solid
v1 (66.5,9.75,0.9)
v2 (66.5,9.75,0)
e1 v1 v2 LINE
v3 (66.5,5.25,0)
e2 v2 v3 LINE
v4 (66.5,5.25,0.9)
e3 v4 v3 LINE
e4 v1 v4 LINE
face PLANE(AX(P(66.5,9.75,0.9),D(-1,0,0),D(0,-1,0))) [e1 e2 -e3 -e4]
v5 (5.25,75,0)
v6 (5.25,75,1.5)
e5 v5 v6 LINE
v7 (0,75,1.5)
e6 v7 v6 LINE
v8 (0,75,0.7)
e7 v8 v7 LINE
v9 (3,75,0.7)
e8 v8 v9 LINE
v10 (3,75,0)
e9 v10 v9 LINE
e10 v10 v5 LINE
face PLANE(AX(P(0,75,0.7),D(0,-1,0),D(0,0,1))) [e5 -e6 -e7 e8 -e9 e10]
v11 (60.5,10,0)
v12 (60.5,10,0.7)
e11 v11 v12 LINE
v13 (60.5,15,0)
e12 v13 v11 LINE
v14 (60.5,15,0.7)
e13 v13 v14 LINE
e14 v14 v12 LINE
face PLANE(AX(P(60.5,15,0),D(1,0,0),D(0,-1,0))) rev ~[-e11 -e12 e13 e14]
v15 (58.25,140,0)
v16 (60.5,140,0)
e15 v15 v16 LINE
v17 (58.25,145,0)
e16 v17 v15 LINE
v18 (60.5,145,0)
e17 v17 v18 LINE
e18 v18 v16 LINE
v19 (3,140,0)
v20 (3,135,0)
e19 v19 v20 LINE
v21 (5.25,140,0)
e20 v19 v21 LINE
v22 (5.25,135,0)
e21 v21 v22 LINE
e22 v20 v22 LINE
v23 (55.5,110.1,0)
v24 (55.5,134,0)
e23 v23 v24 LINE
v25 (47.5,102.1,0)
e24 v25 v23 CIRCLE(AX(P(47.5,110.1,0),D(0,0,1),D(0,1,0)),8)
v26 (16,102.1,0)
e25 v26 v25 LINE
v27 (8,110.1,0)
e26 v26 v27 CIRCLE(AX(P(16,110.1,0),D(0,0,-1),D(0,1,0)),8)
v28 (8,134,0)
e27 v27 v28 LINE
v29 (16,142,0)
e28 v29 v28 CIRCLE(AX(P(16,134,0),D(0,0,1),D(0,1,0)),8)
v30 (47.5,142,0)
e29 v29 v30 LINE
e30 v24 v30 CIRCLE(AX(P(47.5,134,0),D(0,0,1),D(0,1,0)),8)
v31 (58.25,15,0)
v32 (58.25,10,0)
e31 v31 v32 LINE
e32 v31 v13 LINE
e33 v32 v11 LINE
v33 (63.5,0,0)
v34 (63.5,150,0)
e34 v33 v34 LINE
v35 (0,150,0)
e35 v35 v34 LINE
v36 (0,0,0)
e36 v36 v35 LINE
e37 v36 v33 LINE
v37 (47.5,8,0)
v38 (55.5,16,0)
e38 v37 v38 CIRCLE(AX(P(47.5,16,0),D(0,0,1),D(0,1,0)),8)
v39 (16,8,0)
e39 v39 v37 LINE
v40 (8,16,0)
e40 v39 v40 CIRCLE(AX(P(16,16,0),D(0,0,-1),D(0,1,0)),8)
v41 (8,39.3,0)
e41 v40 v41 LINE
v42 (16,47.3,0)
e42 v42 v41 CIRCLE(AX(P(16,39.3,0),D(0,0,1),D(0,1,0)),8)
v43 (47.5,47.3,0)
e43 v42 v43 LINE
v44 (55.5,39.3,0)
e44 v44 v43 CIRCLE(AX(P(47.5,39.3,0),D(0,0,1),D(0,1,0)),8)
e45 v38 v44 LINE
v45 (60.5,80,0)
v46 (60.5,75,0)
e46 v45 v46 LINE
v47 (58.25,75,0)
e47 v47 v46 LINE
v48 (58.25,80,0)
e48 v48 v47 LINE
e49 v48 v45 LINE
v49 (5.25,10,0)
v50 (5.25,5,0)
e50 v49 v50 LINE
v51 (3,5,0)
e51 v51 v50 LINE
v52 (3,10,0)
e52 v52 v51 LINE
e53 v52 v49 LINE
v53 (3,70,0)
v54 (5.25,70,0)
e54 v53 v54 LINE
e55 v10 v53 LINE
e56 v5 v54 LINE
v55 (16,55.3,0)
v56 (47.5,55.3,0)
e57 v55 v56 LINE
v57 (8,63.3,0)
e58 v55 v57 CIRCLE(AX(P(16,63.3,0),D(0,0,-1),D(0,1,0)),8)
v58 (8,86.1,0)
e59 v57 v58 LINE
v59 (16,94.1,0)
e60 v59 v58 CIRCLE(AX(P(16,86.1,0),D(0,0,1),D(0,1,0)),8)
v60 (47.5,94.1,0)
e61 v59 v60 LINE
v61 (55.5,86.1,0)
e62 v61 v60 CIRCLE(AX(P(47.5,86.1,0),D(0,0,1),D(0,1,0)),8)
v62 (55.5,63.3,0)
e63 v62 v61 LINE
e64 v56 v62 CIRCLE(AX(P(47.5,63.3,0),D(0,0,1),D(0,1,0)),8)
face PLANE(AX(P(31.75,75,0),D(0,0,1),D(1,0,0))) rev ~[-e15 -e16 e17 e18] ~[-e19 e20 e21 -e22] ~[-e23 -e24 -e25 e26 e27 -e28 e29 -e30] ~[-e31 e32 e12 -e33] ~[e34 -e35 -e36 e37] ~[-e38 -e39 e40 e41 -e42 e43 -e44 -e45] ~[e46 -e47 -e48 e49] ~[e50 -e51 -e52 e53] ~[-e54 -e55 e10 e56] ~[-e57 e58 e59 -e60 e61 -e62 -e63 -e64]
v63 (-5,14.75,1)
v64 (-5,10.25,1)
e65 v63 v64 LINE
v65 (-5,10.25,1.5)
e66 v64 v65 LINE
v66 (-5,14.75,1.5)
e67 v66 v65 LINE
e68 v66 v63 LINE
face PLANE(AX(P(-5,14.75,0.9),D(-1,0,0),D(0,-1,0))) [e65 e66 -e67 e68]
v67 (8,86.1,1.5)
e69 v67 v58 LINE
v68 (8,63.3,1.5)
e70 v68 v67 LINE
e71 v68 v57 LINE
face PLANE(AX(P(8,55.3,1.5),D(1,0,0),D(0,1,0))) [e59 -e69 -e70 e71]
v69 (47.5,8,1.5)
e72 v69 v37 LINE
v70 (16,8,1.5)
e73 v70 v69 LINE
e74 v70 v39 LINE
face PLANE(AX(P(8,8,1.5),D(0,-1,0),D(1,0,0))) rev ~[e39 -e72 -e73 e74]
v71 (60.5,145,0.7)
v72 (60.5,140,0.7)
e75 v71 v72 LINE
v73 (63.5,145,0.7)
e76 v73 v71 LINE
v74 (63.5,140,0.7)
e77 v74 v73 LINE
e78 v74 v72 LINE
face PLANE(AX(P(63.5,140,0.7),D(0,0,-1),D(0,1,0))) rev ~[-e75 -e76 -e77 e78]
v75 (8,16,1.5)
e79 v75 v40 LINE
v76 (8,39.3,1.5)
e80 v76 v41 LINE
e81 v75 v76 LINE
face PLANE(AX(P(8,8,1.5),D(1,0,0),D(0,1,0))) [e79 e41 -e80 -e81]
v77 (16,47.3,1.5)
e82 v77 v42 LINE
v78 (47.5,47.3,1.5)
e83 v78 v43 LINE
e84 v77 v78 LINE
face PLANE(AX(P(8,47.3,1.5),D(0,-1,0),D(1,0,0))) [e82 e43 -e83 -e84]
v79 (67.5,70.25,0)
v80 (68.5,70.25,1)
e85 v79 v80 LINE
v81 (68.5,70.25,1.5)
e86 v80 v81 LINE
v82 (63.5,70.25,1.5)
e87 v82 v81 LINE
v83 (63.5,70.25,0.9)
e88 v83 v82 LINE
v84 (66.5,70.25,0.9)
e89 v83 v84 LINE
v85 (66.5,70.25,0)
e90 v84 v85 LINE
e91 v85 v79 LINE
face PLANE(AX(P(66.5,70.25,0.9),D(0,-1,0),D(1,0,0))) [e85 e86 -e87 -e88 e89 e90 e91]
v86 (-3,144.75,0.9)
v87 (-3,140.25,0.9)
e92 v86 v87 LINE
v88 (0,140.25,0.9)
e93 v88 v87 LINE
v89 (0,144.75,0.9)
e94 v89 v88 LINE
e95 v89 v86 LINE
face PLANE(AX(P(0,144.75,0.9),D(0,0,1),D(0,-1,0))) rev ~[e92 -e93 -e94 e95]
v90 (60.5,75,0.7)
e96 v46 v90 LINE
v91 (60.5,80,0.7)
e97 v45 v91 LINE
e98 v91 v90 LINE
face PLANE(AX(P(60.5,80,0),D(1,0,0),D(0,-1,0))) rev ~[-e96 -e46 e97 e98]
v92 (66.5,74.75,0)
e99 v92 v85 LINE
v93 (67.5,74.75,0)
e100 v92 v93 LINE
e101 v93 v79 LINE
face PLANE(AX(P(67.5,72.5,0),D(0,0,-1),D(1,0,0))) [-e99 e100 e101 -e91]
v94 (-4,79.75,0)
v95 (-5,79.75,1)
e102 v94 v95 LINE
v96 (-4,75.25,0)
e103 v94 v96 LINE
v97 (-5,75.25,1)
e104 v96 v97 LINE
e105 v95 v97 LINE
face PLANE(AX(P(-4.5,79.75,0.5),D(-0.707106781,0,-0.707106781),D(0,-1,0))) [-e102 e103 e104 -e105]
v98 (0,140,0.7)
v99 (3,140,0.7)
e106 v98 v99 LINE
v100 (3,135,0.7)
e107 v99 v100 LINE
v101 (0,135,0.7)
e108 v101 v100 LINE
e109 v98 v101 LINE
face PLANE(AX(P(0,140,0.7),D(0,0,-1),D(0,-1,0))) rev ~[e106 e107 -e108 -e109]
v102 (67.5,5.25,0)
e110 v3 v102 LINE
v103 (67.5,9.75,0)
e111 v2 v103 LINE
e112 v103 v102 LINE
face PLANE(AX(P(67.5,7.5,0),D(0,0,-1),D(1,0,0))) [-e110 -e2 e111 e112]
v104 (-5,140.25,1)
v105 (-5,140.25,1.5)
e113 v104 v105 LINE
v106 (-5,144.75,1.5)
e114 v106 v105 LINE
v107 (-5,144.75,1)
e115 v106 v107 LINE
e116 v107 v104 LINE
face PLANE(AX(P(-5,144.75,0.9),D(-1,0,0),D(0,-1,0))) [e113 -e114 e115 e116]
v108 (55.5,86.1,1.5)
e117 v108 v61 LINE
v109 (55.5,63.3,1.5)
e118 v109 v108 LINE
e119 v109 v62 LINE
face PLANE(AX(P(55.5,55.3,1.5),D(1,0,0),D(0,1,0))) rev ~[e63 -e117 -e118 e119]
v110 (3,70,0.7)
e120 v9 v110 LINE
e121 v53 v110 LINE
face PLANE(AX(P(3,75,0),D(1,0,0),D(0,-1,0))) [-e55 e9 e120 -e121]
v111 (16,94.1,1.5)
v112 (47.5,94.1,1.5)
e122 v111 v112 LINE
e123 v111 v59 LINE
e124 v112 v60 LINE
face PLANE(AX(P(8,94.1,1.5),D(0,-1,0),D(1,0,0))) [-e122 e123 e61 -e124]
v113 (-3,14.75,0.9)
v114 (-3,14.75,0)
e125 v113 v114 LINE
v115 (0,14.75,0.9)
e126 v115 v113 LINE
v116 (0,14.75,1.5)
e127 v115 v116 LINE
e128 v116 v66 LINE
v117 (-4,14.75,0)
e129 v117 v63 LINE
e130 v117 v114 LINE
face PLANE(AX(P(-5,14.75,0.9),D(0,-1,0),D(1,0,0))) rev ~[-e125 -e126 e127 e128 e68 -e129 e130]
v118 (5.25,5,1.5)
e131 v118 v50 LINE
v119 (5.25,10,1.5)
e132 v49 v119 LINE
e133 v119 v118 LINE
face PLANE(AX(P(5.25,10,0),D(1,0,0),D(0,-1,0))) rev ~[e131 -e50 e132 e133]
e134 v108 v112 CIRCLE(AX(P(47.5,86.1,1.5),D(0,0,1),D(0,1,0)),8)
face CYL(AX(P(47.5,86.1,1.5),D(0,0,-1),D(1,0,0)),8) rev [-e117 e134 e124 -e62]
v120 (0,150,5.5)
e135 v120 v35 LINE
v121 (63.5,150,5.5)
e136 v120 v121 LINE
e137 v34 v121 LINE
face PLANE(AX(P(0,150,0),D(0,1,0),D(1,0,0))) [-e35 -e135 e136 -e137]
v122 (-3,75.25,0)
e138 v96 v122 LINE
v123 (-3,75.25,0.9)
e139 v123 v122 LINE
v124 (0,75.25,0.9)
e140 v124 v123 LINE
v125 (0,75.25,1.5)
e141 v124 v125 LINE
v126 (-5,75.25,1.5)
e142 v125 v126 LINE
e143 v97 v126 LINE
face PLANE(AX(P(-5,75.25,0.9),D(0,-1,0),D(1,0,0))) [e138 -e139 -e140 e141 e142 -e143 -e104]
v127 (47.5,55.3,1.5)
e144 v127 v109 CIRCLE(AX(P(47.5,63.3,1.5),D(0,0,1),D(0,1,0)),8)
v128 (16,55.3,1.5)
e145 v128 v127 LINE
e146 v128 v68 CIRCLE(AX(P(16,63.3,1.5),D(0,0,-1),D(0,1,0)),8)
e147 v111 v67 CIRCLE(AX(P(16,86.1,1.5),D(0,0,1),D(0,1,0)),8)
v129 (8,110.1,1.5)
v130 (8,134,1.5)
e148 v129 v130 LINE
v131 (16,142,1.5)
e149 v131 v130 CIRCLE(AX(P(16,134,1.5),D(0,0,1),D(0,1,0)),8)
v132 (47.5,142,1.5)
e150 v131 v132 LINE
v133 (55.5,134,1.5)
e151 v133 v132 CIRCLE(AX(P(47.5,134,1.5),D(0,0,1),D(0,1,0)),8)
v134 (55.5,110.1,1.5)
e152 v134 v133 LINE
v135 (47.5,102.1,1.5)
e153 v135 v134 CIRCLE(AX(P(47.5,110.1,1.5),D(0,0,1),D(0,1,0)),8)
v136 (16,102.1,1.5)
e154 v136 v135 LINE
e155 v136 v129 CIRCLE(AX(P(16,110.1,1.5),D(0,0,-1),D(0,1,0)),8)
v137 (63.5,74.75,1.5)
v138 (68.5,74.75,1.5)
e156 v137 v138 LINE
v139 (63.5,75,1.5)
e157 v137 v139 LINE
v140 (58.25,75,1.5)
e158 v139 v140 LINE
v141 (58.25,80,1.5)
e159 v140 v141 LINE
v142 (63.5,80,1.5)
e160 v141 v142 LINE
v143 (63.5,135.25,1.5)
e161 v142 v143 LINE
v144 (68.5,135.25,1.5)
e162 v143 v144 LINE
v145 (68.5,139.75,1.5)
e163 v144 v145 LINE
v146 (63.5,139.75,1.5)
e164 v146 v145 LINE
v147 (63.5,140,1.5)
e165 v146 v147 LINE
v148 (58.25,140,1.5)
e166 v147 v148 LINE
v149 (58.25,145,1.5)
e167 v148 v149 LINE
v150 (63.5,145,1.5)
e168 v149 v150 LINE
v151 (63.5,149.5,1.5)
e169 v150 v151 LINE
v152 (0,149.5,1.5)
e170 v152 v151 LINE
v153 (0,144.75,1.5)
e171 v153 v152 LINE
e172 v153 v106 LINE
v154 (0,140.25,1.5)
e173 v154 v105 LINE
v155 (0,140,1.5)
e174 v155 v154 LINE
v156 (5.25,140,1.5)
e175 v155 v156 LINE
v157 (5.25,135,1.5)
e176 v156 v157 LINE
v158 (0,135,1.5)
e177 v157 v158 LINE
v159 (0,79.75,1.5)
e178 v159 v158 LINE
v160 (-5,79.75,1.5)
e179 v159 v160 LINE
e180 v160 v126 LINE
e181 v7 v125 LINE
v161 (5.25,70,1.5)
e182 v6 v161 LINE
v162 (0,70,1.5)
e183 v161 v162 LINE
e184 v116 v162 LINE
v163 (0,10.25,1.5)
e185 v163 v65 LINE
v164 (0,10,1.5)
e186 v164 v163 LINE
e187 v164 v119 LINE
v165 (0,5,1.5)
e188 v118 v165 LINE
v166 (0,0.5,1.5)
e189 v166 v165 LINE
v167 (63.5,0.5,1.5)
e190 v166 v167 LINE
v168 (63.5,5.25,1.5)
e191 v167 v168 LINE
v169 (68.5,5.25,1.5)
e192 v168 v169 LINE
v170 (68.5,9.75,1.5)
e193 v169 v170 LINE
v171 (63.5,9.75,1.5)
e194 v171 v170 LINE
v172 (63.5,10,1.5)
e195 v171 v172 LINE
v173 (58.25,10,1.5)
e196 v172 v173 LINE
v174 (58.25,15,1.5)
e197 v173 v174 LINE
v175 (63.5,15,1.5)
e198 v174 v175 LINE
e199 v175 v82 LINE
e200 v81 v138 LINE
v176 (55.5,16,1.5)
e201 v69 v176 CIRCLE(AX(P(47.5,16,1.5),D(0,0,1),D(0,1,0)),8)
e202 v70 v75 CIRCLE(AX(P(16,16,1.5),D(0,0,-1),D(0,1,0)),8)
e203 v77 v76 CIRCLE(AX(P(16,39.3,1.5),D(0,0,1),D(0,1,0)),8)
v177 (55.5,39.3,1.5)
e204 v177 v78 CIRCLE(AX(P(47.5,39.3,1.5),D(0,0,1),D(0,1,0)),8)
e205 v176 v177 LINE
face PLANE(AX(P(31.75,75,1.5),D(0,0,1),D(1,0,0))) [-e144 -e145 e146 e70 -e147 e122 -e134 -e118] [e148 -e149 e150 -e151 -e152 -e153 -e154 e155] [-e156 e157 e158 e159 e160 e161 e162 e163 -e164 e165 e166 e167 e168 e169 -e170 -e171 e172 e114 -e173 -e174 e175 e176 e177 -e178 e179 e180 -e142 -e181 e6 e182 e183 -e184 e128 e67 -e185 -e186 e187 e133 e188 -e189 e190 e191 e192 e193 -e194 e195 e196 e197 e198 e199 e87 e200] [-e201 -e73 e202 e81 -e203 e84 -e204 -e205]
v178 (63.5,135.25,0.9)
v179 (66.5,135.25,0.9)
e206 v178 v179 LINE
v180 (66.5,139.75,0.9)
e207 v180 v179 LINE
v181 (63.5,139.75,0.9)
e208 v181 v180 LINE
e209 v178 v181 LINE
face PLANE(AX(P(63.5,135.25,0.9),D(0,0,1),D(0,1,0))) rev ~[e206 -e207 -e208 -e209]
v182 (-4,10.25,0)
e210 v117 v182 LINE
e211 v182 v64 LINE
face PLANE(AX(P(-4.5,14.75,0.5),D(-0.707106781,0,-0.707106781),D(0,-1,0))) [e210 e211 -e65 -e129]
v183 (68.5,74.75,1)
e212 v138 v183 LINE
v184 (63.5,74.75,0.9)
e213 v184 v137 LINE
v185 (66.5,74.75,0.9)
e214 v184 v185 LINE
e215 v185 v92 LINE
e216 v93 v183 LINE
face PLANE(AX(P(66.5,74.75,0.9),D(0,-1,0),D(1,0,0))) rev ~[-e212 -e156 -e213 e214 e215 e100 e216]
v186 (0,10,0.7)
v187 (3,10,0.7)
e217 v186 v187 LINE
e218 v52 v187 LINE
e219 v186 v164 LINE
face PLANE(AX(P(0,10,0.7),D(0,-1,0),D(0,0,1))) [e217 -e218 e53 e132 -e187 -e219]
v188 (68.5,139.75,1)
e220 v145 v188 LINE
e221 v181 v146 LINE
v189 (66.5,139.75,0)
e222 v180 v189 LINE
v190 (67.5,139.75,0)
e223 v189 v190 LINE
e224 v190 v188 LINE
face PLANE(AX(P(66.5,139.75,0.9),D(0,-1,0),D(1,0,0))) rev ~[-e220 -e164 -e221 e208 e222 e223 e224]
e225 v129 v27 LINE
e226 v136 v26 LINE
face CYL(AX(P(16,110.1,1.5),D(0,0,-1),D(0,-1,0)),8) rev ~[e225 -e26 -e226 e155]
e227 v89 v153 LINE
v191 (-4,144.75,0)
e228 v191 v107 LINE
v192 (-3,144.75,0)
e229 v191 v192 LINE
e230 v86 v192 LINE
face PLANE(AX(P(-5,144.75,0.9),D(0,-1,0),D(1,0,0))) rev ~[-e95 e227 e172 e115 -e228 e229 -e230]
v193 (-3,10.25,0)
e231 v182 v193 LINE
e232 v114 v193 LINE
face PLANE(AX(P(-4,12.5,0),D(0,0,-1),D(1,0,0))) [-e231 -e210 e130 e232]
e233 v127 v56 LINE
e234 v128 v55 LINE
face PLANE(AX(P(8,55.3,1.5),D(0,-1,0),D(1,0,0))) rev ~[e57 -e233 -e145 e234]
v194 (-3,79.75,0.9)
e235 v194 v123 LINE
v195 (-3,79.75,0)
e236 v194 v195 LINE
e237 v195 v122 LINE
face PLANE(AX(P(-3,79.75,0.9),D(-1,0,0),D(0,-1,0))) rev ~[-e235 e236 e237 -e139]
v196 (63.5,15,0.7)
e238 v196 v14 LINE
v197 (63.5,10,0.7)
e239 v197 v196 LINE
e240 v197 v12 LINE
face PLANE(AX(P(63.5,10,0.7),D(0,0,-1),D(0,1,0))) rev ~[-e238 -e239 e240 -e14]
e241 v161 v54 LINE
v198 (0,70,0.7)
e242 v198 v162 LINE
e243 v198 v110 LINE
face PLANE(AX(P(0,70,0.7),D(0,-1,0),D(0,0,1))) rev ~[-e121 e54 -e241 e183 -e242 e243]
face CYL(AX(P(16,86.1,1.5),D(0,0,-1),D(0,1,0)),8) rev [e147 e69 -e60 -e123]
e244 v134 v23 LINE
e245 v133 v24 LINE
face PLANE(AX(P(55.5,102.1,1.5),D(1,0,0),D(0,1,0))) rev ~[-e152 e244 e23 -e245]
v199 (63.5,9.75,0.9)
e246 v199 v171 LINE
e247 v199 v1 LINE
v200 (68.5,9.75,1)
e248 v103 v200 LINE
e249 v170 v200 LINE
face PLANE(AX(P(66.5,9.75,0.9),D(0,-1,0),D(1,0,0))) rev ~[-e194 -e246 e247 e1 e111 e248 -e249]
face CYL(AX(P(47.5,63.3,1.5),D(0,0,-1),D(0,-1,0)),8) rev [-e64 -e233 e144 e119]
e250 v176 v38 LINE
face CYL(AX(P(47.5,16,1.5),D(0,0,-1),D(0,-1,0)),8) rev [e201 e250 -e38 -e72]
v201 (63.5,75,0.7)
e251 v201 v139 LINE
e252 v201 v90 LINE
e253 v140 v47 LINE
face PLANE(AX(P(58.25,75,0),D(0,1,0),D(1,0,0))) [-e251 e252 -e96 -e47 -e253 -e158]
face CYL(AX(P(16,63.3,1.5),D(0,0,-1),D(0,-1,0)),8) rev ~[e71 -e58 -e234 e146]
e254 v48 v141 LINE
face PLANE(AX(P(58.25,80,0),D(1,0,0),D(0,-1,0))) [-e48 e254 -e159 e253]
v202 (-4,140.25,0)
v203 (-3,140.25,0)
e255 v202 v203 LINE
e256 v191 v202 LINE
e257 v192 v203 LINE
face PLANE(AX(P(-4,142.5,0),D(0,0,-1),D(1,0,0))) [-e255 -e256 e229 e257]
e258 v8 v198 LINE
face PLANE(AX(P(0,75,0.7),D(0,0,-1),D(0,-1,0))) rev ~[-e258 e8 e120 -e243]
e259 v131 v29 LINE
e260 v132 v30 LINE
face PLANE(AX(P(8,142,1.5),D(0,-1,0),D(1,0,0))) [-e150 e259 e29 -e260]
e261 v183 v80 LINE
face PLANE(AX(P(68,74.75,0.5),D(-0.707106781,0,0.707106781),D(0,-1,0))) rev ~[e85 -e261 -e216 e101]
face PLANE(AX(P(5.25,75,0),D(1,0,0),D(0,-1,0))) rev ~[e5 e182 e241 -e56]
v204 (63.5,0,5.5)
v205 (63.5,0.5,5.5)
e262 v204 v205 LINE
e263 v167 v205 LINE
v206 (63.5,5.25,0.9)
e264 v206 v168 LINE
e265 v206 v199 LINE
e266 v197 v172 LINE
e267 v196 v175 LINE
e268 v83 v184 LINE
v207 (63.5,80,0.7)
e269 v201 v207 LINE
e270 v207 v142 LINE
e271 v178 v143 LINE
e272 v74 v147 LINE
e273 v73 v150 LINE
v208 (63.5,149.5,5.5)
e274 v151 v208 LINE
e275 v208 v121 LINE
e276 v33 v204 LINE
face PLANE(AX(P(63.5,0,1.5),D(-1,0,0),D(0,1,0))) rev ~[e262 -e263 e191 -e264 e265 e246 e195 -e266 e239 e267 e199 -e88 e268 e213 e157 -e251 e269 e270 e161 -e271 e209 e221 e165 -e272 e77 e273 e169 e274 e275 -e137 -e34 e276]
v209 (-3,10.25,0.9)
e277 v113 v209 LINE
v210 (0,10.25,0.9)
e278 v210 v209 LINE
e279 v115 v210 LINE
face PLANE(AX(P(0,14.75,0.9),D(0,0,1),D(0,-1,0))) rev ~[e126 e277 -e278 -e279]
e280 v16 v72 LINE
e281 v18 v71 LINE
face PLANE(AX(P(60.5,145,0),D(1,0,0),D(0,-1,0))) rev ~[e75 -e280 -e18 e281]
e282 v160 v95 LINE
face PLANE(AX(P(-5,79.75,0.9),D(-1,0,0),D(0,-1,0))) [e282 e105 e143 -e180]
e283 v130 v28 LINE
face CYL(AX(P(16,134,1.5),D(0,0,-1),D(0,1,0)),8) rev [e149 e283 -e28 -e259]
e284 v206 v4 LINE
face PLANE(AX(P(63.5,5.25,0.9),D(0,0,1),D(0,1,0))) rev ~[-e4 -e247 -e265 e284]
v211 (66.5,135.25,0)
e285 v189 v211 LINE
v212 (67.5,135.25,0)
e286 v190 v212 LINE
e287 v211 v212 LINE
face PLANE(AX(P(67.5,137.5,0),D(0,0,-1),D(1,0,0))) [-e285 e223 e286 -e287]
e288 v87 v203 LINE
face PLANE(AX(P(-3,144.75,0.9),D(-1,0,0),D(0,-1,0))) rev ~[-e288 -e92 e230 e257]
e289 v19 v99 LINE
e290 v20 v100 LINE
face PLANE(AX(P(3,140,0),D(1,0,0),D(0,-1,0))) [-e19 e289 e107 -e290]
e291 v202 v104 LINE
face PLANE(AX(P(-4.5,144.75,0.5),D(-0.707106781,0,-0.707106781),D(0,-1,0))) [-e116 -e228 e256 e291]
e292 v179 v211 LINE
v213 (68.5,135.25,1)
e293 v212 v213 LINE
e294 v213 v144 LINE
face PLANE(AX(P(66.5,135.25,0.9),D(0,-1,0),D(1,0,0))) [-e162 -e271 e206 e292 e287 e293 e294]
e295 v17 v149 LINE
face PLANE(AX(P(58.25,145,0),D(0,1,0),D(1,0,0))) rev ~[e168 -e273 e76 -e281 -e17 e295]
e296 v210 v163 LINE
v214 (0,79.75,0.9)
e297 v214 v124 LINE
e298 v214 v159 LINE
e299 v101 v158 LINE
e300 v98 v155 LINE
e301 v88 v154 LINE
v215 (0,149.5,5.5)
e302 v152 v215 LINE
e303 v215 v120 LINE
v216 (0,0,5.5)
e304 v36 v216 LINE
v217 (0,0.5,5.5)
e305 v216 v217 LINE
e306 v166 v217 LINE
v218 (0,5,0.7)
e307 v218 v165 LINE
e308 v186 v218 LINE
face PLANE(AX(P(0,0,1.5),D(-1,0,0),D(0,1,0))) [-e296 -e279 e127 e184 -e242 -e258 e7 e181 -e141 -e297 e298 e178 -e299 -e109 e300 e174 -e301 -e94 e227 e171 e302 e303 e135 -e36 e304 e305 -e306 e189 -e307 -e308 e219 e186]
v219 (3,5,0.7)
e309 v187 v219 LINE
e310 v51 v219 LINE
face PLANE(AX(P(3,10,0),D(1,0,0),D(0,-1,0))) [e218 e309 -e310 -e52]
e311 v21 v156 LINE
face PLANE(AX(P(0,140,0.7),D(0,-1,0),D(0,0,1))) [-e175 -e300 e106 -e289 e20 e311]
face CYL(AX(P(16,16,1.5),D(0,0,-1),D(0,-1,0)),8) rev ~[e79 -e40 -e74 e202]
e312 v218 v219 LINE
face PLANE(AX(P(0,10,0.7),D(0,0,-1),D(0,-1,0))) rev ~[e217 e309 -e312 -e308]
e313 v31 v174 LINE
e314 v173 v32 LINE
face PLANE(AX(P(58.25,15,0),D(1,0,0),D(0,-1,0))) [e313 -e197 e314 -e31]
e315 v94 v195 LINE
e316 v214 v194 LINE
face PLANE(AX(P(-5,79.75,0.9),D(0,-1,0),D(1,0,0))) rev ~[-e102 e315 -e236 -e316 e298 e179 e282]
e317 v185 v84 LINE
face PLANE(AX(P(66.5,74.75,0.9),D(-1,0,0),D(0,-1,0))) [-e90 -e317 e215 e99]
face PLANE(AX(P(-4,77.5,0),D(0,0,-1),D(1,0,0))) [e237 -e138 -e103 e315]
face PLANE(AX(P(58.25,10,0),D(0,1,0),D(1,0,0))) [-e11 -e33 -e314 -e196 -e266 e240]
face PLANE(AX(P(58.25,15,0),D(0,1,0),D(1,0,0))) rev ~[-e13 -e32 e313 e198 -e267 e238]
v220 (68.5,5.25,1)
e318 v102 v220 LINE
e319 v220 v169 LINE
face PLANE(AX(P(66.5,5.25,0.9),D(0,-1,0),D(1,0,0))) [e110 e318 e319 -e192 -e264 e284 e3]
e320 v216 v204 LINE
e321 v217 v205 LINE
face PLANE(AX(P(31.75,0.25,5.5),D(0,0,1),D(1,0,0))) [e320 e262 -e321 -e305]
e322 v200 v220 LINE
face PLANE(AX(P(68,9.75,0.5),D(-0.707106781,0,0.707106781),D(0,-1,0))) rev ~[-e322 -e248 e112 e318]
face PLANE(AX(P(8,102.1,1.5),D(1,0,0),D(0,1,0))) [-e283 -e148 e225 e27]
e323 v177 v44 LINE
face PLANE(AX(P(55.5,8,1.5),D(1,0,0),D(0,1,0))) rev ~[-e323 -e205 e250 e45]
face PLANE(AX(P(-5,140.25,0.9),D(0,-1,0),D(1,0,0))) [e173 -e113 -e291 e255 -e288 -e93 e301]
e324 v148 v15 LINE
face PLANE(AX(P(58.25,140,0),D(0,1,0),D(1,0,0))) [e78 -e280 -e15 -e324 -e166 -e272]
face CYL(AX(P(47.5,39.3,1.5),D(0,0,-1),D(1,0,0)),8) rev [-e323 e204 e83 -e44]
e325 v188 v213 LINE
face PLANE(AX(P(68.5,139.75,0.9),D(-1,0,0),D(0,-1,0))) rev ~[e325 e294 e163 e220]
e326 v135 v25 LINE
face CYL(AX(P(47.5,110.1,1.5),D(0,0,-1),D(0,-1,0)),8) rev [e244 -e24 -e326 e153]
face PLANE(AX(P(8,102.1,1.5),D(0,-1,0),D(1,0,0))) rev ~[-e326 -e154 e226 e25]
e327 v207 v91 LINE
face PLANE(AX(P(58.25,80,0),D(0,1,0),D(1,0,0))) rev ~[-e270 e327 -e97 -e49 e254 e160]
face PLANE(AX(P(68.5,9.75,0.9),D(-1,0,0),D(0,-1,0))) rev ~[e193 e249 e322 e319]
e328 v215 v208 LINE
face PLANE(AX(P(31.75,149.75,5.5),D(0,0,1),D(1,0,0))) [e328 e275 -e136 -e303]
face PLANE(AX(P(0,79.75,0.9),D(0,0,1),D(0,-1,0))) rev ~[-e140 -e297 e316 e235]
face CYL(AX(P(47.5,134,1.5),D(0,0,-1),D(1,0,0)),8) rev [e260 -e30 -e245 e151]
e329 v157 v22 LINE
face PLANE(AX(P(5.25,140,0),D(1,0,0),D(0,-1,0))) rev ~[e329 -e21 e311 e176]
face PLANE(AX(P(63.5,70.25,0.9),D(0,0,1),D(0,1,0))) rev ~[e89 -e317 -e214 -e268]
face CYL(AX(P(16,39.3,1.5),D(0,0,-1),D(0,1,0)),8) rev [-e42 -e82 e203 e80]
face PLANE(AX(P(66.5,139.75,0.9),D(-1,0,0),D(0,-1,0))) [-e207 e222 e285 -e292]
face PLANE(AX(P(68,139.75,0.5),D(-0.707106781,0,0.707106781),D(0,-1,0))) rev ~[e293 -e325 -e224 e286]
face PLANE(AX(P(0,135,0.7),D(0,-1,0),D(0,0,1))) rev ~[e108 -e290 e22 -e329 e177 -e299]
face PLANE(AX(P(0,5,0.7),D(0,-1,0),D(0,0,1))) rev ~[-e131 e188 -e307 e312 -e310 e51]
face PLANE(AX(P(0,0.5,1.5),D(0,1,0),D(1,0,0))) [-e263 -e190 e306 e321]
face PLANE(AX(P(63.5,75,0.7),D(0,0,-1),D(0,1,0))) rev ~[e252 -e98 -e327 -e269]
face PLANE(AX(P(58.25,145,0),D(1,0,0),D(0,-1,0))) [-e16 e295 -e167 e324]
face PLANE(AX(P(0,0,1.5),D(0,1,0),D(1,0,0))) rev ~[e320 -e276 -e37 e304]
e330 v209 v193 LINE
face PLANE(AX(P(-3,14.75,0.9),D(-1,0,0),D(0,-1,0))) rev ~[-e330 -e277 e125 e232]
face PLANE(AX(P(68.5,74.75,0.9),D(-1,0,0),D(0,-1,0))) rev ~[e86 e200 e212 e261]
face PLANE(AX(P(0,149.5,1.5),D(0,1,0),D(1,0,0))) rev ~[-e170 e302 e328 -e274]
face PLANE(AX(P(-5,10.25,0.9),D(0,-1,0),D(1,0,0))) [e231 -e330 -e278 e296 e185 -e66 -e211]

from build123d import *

# Parameters (mm, degrees)
F0_W      = 63.5
F0_H      = 150
F1_DEPTH  = 1.5
F2_W      = 47.5
F2_H      = 39.9
F2_H_2    = 38.8
F2_H_3    = 39.3
F3_DEPTH  = 1.501
F4_R      = 8
F5_W      = 63.5
F5_H      = 0.5
F6_DEPTH  = 4
F7_W      = 5
F7_H      = 0.8
F8_DEPTH  = 5.25
F9_W      = 5
F9_H      = 0.8
F10_DEPTH = 5.25
F11_W     = 4.5
F11_H     = 0.6
F12_DEPTH = 5
F13_W     = 4.5
F13_H     = 0.6
F14_DEPTH = 5
F15_W     = 2.25
F15_H     = 5
F16_DEPTH = 5.501
F17_W     = 2
F17_H     = 4.5
F18_DEPTH = 0.9
F19_W     = 2
F19_H     = 4.5
F20_DEPTH = 0.9
F21_W     = 2
F21_H     = 4.5
F22_DEPTH = 0.9
F23_W     = 2
F23_H     = 4.5
F24_DEPTH = 0.9
F25_W     = 2
F25_H     = 4.5
F26_DEPTH = 0.9
F27_W     = 2
F27_H     = 4.5
F28_DEPTH = 0.9
F29_SIZE  = 1


with BuildPart() as f1:
    # F0 (on Top) → F1 (new body)
    with BuildSketch(Plane.XY):
        with Locations((31.75, 75)):
            Rectangle(F0_W, F0_H)
    extrude(amount=F1_DEPTH)

    # F2 (on face) → F3 (cut, through all)
    with BuildSketch(Plane.XY.offset(1.5)):
        with Locations((31.75, 122.05)):
            Rectangle(F2_W, F2_H)
        with Locations((31.75, 74.7)):
            Rectangle(F2_W, F2_H_2)
        with Locations((31.75, 27.65)):
            Rectangle(F2_W, F2_H_3)
    extrude(amount=-F3_DEPTH, mode=Mode.SUBTRACT)

    # F4
    f4_edges = [f1.edges().sort_by_distance(p)[0] for p in [
        (8, 142, 0.75),
        (8, 94.1, 0.75),
        (8, 47.3, 0.75),
        (8, 102.1, 0.75),
        (8, 55.3, 0.75),
        (8, 8, 0.75),
        (55.5, 102.1, 0.75),
        (55.5, 55.3, 0.75),
        (55.5, 8, 0.75),
        (55.5, 142, 0.75),
        (55.5, 94.1, 0.75),
        (55.5, 47.3, 0.75),
    ]]
    fillet(f4_edges, radius=F4_R)

    # F5 (on face) → F6 (join)
    with BuildSketch(Plane.XY.offset(1.5)):
        with Locations((31.75, 0.25)):
            Rectangle(F5_W, F5_H)
        with Locations((31.75, 149.75)):
            Rectangle(F5_W, F5_H)
    extrude(amount=F6_DEPTH)

    # F7 (on face) → F8 (cut)
    with BuildSketch(Plane.YZ.offset(63.5)):
        with Locations((142.5, 1.1)):
            Rectangle(F7_W, F7_H)
        with Locations((77.5, 1.1)):
            Rectangle(F7_W, F7_H)
        with Locations((12.5, 1.1)):
            Rectangle(F7_W, F7_H)
    extrude(amount=-F8_DEPTH, mode=Mode.SUBTRACT)

    # F9 (on face) → F10 (cut)
    with BuildSketch(Plane(origin=(0, 0, 0), x_dir=(0, -1, 0), z_dir=(-1, 0, 0))):
        with Locations((-7.5, 1.1)):
            Rectangle(F9_W, F9_H)
        with Locations((-72.5, 1.1)):
            Rectangle(F9_W, F9_H)
        with Locations((-137.5, 1.1)):
            Rectangle(F9_W, F9_H)
    extrude(amount=-F10_DEPTH, mode=Mode.SUBTRACT)

    # F11 (on face) → F12 (join)
    with BuildSketch(Plane(origin=(0, 0, 0), x_dir=(0, -1, 0), z_dir=(-1, 0, 0))):
        with Locations((-142.5, 1.2)):
            Rectangle(F11_W, F11_H)
        with Locations((-77.5, 1.2)):
            Rectangle(F11_W, F11_H)
        with Locations((-12.5, 1.2)):
            Rectangle(F11_W, F11_H)
    extrude(amount=F12_DEPTH)

    # F13 (on face) → F14 (join)
    with BuildSketch(Plane.YZ.offset(63.5)):
        with Locations((137.5, 1.2)):
            Rectangle(F13_W, F13_H)
        with Locations((72.5, 1.2)):
            Rectangle(F13_W, F13_H)
        with Locations((7.5, 1.2)):
            Rectangle(F13_W, F13_H)
    extrude(amount=F14_DEPTH)

    # F15 (on face) → F16 (cut, through all)
    with BuildSketch(Plane(origin=(0, 0, 0), x_dir=(1, 0, 0), z_dir=(0, 0, -1))):
        with Locations((59.375, -12.5)):
            Rectangle(F15_W, F15_H)
        with Locations((4.125, -7.5)):
            Rectangle(F15_W, F15_H)
        with Locations((59.375, -77.5)):
            Rectangle(F15_W, F15_H)
        with Locations((4.125, -72.5)):
            Rectangle(F15_W, F15_H)
        with Locations((59.375, -142.5)):
            Rectangle(F15_W, F15_H)
        with Locations((4.125, -137.5)):
            Rectangle(F15_W, F15_H)
    extrude(amount=-F16_DEPTH, mode=Mode.SUBTRACT)

    # F17 (on face) → F18 (join)
    with BuildSketch(Plane(origin=(0, 0, 0.9), x_dir=(1, 0, 0), z_dir=(0, 0, -1))):
        with Locations((-4, -12.5)):
            Rectangle(F17_W, F17_H)
    extrude(amount=F18_DEPTH)

    # F19 (on face) → F20 (join)
    with BuildSketch(Plane(origin=(0, 0, 0.9), x_dir=(1, 0, 0), z_dir=(0, 0, -1))):
        with Locations((-4, -77.5)):
            Rectangle(F19_W, F19_H)
    extrude(amount=F20_DEPTH)

    # F21 (on face) → F22 (join)
    with BuildSketch(Plane(origin=(0, 0, 0.9), x_dir=(1, 0, 0), z_dir=(0, 0, -1))):
        with Locations((-4, -142.5)):
            Rectangle(F21_W, F21_H)
    extrude(amount=F22_DEPTH)

    # F23 (on face) → F24 (join)
    with BuildSketch(Plane(origin=(0, 0, 0.9), x_dir=(1, 0, 0), z_dir=(0, 0, -1))):
        with Locations((67.5, -137.5)):
            Rectangle(F23_W, F23_H)
    extrude(amount=F24_DEPTH)

    # F25 (on face) → F26 (join)
    with BuildSketch(Plane(origin=(0, 0, 0.9), x_dir=(1, 0, 0), z_dir=(0, 0, -1))):
        with Locations((67.5, -72.5)):
            Rectangle(F25_W, F25_H)
    extrude(amount=F26_DEPTH)

    # F27 (on face) → F28 (join)
    with BuildSketch(Plane(origin=(0, 0, 0.9), x_dir=(1, 0, 0), z_dir=(0, 0, -1))):
        with Locations((67.5, -7.5)):
            Rectangle(F27_W, F27_H)
    extrude(amount=F28_DEPTH)

    # F29
    f29_edges = [f1.edges().sort_by_distance(p)[0] for p in [
        (-5, 142.5, 0),
        (-5, 77.5, 0),
        (-5, 12.5, 0),
        (68.5, 72.5, 0),
        (68.5, 137.5, 0),
        (68.5, 7.5, 0),
    ]]
    chamfer(f29_edges, length=F29_SIZE)


solid = f1.part
